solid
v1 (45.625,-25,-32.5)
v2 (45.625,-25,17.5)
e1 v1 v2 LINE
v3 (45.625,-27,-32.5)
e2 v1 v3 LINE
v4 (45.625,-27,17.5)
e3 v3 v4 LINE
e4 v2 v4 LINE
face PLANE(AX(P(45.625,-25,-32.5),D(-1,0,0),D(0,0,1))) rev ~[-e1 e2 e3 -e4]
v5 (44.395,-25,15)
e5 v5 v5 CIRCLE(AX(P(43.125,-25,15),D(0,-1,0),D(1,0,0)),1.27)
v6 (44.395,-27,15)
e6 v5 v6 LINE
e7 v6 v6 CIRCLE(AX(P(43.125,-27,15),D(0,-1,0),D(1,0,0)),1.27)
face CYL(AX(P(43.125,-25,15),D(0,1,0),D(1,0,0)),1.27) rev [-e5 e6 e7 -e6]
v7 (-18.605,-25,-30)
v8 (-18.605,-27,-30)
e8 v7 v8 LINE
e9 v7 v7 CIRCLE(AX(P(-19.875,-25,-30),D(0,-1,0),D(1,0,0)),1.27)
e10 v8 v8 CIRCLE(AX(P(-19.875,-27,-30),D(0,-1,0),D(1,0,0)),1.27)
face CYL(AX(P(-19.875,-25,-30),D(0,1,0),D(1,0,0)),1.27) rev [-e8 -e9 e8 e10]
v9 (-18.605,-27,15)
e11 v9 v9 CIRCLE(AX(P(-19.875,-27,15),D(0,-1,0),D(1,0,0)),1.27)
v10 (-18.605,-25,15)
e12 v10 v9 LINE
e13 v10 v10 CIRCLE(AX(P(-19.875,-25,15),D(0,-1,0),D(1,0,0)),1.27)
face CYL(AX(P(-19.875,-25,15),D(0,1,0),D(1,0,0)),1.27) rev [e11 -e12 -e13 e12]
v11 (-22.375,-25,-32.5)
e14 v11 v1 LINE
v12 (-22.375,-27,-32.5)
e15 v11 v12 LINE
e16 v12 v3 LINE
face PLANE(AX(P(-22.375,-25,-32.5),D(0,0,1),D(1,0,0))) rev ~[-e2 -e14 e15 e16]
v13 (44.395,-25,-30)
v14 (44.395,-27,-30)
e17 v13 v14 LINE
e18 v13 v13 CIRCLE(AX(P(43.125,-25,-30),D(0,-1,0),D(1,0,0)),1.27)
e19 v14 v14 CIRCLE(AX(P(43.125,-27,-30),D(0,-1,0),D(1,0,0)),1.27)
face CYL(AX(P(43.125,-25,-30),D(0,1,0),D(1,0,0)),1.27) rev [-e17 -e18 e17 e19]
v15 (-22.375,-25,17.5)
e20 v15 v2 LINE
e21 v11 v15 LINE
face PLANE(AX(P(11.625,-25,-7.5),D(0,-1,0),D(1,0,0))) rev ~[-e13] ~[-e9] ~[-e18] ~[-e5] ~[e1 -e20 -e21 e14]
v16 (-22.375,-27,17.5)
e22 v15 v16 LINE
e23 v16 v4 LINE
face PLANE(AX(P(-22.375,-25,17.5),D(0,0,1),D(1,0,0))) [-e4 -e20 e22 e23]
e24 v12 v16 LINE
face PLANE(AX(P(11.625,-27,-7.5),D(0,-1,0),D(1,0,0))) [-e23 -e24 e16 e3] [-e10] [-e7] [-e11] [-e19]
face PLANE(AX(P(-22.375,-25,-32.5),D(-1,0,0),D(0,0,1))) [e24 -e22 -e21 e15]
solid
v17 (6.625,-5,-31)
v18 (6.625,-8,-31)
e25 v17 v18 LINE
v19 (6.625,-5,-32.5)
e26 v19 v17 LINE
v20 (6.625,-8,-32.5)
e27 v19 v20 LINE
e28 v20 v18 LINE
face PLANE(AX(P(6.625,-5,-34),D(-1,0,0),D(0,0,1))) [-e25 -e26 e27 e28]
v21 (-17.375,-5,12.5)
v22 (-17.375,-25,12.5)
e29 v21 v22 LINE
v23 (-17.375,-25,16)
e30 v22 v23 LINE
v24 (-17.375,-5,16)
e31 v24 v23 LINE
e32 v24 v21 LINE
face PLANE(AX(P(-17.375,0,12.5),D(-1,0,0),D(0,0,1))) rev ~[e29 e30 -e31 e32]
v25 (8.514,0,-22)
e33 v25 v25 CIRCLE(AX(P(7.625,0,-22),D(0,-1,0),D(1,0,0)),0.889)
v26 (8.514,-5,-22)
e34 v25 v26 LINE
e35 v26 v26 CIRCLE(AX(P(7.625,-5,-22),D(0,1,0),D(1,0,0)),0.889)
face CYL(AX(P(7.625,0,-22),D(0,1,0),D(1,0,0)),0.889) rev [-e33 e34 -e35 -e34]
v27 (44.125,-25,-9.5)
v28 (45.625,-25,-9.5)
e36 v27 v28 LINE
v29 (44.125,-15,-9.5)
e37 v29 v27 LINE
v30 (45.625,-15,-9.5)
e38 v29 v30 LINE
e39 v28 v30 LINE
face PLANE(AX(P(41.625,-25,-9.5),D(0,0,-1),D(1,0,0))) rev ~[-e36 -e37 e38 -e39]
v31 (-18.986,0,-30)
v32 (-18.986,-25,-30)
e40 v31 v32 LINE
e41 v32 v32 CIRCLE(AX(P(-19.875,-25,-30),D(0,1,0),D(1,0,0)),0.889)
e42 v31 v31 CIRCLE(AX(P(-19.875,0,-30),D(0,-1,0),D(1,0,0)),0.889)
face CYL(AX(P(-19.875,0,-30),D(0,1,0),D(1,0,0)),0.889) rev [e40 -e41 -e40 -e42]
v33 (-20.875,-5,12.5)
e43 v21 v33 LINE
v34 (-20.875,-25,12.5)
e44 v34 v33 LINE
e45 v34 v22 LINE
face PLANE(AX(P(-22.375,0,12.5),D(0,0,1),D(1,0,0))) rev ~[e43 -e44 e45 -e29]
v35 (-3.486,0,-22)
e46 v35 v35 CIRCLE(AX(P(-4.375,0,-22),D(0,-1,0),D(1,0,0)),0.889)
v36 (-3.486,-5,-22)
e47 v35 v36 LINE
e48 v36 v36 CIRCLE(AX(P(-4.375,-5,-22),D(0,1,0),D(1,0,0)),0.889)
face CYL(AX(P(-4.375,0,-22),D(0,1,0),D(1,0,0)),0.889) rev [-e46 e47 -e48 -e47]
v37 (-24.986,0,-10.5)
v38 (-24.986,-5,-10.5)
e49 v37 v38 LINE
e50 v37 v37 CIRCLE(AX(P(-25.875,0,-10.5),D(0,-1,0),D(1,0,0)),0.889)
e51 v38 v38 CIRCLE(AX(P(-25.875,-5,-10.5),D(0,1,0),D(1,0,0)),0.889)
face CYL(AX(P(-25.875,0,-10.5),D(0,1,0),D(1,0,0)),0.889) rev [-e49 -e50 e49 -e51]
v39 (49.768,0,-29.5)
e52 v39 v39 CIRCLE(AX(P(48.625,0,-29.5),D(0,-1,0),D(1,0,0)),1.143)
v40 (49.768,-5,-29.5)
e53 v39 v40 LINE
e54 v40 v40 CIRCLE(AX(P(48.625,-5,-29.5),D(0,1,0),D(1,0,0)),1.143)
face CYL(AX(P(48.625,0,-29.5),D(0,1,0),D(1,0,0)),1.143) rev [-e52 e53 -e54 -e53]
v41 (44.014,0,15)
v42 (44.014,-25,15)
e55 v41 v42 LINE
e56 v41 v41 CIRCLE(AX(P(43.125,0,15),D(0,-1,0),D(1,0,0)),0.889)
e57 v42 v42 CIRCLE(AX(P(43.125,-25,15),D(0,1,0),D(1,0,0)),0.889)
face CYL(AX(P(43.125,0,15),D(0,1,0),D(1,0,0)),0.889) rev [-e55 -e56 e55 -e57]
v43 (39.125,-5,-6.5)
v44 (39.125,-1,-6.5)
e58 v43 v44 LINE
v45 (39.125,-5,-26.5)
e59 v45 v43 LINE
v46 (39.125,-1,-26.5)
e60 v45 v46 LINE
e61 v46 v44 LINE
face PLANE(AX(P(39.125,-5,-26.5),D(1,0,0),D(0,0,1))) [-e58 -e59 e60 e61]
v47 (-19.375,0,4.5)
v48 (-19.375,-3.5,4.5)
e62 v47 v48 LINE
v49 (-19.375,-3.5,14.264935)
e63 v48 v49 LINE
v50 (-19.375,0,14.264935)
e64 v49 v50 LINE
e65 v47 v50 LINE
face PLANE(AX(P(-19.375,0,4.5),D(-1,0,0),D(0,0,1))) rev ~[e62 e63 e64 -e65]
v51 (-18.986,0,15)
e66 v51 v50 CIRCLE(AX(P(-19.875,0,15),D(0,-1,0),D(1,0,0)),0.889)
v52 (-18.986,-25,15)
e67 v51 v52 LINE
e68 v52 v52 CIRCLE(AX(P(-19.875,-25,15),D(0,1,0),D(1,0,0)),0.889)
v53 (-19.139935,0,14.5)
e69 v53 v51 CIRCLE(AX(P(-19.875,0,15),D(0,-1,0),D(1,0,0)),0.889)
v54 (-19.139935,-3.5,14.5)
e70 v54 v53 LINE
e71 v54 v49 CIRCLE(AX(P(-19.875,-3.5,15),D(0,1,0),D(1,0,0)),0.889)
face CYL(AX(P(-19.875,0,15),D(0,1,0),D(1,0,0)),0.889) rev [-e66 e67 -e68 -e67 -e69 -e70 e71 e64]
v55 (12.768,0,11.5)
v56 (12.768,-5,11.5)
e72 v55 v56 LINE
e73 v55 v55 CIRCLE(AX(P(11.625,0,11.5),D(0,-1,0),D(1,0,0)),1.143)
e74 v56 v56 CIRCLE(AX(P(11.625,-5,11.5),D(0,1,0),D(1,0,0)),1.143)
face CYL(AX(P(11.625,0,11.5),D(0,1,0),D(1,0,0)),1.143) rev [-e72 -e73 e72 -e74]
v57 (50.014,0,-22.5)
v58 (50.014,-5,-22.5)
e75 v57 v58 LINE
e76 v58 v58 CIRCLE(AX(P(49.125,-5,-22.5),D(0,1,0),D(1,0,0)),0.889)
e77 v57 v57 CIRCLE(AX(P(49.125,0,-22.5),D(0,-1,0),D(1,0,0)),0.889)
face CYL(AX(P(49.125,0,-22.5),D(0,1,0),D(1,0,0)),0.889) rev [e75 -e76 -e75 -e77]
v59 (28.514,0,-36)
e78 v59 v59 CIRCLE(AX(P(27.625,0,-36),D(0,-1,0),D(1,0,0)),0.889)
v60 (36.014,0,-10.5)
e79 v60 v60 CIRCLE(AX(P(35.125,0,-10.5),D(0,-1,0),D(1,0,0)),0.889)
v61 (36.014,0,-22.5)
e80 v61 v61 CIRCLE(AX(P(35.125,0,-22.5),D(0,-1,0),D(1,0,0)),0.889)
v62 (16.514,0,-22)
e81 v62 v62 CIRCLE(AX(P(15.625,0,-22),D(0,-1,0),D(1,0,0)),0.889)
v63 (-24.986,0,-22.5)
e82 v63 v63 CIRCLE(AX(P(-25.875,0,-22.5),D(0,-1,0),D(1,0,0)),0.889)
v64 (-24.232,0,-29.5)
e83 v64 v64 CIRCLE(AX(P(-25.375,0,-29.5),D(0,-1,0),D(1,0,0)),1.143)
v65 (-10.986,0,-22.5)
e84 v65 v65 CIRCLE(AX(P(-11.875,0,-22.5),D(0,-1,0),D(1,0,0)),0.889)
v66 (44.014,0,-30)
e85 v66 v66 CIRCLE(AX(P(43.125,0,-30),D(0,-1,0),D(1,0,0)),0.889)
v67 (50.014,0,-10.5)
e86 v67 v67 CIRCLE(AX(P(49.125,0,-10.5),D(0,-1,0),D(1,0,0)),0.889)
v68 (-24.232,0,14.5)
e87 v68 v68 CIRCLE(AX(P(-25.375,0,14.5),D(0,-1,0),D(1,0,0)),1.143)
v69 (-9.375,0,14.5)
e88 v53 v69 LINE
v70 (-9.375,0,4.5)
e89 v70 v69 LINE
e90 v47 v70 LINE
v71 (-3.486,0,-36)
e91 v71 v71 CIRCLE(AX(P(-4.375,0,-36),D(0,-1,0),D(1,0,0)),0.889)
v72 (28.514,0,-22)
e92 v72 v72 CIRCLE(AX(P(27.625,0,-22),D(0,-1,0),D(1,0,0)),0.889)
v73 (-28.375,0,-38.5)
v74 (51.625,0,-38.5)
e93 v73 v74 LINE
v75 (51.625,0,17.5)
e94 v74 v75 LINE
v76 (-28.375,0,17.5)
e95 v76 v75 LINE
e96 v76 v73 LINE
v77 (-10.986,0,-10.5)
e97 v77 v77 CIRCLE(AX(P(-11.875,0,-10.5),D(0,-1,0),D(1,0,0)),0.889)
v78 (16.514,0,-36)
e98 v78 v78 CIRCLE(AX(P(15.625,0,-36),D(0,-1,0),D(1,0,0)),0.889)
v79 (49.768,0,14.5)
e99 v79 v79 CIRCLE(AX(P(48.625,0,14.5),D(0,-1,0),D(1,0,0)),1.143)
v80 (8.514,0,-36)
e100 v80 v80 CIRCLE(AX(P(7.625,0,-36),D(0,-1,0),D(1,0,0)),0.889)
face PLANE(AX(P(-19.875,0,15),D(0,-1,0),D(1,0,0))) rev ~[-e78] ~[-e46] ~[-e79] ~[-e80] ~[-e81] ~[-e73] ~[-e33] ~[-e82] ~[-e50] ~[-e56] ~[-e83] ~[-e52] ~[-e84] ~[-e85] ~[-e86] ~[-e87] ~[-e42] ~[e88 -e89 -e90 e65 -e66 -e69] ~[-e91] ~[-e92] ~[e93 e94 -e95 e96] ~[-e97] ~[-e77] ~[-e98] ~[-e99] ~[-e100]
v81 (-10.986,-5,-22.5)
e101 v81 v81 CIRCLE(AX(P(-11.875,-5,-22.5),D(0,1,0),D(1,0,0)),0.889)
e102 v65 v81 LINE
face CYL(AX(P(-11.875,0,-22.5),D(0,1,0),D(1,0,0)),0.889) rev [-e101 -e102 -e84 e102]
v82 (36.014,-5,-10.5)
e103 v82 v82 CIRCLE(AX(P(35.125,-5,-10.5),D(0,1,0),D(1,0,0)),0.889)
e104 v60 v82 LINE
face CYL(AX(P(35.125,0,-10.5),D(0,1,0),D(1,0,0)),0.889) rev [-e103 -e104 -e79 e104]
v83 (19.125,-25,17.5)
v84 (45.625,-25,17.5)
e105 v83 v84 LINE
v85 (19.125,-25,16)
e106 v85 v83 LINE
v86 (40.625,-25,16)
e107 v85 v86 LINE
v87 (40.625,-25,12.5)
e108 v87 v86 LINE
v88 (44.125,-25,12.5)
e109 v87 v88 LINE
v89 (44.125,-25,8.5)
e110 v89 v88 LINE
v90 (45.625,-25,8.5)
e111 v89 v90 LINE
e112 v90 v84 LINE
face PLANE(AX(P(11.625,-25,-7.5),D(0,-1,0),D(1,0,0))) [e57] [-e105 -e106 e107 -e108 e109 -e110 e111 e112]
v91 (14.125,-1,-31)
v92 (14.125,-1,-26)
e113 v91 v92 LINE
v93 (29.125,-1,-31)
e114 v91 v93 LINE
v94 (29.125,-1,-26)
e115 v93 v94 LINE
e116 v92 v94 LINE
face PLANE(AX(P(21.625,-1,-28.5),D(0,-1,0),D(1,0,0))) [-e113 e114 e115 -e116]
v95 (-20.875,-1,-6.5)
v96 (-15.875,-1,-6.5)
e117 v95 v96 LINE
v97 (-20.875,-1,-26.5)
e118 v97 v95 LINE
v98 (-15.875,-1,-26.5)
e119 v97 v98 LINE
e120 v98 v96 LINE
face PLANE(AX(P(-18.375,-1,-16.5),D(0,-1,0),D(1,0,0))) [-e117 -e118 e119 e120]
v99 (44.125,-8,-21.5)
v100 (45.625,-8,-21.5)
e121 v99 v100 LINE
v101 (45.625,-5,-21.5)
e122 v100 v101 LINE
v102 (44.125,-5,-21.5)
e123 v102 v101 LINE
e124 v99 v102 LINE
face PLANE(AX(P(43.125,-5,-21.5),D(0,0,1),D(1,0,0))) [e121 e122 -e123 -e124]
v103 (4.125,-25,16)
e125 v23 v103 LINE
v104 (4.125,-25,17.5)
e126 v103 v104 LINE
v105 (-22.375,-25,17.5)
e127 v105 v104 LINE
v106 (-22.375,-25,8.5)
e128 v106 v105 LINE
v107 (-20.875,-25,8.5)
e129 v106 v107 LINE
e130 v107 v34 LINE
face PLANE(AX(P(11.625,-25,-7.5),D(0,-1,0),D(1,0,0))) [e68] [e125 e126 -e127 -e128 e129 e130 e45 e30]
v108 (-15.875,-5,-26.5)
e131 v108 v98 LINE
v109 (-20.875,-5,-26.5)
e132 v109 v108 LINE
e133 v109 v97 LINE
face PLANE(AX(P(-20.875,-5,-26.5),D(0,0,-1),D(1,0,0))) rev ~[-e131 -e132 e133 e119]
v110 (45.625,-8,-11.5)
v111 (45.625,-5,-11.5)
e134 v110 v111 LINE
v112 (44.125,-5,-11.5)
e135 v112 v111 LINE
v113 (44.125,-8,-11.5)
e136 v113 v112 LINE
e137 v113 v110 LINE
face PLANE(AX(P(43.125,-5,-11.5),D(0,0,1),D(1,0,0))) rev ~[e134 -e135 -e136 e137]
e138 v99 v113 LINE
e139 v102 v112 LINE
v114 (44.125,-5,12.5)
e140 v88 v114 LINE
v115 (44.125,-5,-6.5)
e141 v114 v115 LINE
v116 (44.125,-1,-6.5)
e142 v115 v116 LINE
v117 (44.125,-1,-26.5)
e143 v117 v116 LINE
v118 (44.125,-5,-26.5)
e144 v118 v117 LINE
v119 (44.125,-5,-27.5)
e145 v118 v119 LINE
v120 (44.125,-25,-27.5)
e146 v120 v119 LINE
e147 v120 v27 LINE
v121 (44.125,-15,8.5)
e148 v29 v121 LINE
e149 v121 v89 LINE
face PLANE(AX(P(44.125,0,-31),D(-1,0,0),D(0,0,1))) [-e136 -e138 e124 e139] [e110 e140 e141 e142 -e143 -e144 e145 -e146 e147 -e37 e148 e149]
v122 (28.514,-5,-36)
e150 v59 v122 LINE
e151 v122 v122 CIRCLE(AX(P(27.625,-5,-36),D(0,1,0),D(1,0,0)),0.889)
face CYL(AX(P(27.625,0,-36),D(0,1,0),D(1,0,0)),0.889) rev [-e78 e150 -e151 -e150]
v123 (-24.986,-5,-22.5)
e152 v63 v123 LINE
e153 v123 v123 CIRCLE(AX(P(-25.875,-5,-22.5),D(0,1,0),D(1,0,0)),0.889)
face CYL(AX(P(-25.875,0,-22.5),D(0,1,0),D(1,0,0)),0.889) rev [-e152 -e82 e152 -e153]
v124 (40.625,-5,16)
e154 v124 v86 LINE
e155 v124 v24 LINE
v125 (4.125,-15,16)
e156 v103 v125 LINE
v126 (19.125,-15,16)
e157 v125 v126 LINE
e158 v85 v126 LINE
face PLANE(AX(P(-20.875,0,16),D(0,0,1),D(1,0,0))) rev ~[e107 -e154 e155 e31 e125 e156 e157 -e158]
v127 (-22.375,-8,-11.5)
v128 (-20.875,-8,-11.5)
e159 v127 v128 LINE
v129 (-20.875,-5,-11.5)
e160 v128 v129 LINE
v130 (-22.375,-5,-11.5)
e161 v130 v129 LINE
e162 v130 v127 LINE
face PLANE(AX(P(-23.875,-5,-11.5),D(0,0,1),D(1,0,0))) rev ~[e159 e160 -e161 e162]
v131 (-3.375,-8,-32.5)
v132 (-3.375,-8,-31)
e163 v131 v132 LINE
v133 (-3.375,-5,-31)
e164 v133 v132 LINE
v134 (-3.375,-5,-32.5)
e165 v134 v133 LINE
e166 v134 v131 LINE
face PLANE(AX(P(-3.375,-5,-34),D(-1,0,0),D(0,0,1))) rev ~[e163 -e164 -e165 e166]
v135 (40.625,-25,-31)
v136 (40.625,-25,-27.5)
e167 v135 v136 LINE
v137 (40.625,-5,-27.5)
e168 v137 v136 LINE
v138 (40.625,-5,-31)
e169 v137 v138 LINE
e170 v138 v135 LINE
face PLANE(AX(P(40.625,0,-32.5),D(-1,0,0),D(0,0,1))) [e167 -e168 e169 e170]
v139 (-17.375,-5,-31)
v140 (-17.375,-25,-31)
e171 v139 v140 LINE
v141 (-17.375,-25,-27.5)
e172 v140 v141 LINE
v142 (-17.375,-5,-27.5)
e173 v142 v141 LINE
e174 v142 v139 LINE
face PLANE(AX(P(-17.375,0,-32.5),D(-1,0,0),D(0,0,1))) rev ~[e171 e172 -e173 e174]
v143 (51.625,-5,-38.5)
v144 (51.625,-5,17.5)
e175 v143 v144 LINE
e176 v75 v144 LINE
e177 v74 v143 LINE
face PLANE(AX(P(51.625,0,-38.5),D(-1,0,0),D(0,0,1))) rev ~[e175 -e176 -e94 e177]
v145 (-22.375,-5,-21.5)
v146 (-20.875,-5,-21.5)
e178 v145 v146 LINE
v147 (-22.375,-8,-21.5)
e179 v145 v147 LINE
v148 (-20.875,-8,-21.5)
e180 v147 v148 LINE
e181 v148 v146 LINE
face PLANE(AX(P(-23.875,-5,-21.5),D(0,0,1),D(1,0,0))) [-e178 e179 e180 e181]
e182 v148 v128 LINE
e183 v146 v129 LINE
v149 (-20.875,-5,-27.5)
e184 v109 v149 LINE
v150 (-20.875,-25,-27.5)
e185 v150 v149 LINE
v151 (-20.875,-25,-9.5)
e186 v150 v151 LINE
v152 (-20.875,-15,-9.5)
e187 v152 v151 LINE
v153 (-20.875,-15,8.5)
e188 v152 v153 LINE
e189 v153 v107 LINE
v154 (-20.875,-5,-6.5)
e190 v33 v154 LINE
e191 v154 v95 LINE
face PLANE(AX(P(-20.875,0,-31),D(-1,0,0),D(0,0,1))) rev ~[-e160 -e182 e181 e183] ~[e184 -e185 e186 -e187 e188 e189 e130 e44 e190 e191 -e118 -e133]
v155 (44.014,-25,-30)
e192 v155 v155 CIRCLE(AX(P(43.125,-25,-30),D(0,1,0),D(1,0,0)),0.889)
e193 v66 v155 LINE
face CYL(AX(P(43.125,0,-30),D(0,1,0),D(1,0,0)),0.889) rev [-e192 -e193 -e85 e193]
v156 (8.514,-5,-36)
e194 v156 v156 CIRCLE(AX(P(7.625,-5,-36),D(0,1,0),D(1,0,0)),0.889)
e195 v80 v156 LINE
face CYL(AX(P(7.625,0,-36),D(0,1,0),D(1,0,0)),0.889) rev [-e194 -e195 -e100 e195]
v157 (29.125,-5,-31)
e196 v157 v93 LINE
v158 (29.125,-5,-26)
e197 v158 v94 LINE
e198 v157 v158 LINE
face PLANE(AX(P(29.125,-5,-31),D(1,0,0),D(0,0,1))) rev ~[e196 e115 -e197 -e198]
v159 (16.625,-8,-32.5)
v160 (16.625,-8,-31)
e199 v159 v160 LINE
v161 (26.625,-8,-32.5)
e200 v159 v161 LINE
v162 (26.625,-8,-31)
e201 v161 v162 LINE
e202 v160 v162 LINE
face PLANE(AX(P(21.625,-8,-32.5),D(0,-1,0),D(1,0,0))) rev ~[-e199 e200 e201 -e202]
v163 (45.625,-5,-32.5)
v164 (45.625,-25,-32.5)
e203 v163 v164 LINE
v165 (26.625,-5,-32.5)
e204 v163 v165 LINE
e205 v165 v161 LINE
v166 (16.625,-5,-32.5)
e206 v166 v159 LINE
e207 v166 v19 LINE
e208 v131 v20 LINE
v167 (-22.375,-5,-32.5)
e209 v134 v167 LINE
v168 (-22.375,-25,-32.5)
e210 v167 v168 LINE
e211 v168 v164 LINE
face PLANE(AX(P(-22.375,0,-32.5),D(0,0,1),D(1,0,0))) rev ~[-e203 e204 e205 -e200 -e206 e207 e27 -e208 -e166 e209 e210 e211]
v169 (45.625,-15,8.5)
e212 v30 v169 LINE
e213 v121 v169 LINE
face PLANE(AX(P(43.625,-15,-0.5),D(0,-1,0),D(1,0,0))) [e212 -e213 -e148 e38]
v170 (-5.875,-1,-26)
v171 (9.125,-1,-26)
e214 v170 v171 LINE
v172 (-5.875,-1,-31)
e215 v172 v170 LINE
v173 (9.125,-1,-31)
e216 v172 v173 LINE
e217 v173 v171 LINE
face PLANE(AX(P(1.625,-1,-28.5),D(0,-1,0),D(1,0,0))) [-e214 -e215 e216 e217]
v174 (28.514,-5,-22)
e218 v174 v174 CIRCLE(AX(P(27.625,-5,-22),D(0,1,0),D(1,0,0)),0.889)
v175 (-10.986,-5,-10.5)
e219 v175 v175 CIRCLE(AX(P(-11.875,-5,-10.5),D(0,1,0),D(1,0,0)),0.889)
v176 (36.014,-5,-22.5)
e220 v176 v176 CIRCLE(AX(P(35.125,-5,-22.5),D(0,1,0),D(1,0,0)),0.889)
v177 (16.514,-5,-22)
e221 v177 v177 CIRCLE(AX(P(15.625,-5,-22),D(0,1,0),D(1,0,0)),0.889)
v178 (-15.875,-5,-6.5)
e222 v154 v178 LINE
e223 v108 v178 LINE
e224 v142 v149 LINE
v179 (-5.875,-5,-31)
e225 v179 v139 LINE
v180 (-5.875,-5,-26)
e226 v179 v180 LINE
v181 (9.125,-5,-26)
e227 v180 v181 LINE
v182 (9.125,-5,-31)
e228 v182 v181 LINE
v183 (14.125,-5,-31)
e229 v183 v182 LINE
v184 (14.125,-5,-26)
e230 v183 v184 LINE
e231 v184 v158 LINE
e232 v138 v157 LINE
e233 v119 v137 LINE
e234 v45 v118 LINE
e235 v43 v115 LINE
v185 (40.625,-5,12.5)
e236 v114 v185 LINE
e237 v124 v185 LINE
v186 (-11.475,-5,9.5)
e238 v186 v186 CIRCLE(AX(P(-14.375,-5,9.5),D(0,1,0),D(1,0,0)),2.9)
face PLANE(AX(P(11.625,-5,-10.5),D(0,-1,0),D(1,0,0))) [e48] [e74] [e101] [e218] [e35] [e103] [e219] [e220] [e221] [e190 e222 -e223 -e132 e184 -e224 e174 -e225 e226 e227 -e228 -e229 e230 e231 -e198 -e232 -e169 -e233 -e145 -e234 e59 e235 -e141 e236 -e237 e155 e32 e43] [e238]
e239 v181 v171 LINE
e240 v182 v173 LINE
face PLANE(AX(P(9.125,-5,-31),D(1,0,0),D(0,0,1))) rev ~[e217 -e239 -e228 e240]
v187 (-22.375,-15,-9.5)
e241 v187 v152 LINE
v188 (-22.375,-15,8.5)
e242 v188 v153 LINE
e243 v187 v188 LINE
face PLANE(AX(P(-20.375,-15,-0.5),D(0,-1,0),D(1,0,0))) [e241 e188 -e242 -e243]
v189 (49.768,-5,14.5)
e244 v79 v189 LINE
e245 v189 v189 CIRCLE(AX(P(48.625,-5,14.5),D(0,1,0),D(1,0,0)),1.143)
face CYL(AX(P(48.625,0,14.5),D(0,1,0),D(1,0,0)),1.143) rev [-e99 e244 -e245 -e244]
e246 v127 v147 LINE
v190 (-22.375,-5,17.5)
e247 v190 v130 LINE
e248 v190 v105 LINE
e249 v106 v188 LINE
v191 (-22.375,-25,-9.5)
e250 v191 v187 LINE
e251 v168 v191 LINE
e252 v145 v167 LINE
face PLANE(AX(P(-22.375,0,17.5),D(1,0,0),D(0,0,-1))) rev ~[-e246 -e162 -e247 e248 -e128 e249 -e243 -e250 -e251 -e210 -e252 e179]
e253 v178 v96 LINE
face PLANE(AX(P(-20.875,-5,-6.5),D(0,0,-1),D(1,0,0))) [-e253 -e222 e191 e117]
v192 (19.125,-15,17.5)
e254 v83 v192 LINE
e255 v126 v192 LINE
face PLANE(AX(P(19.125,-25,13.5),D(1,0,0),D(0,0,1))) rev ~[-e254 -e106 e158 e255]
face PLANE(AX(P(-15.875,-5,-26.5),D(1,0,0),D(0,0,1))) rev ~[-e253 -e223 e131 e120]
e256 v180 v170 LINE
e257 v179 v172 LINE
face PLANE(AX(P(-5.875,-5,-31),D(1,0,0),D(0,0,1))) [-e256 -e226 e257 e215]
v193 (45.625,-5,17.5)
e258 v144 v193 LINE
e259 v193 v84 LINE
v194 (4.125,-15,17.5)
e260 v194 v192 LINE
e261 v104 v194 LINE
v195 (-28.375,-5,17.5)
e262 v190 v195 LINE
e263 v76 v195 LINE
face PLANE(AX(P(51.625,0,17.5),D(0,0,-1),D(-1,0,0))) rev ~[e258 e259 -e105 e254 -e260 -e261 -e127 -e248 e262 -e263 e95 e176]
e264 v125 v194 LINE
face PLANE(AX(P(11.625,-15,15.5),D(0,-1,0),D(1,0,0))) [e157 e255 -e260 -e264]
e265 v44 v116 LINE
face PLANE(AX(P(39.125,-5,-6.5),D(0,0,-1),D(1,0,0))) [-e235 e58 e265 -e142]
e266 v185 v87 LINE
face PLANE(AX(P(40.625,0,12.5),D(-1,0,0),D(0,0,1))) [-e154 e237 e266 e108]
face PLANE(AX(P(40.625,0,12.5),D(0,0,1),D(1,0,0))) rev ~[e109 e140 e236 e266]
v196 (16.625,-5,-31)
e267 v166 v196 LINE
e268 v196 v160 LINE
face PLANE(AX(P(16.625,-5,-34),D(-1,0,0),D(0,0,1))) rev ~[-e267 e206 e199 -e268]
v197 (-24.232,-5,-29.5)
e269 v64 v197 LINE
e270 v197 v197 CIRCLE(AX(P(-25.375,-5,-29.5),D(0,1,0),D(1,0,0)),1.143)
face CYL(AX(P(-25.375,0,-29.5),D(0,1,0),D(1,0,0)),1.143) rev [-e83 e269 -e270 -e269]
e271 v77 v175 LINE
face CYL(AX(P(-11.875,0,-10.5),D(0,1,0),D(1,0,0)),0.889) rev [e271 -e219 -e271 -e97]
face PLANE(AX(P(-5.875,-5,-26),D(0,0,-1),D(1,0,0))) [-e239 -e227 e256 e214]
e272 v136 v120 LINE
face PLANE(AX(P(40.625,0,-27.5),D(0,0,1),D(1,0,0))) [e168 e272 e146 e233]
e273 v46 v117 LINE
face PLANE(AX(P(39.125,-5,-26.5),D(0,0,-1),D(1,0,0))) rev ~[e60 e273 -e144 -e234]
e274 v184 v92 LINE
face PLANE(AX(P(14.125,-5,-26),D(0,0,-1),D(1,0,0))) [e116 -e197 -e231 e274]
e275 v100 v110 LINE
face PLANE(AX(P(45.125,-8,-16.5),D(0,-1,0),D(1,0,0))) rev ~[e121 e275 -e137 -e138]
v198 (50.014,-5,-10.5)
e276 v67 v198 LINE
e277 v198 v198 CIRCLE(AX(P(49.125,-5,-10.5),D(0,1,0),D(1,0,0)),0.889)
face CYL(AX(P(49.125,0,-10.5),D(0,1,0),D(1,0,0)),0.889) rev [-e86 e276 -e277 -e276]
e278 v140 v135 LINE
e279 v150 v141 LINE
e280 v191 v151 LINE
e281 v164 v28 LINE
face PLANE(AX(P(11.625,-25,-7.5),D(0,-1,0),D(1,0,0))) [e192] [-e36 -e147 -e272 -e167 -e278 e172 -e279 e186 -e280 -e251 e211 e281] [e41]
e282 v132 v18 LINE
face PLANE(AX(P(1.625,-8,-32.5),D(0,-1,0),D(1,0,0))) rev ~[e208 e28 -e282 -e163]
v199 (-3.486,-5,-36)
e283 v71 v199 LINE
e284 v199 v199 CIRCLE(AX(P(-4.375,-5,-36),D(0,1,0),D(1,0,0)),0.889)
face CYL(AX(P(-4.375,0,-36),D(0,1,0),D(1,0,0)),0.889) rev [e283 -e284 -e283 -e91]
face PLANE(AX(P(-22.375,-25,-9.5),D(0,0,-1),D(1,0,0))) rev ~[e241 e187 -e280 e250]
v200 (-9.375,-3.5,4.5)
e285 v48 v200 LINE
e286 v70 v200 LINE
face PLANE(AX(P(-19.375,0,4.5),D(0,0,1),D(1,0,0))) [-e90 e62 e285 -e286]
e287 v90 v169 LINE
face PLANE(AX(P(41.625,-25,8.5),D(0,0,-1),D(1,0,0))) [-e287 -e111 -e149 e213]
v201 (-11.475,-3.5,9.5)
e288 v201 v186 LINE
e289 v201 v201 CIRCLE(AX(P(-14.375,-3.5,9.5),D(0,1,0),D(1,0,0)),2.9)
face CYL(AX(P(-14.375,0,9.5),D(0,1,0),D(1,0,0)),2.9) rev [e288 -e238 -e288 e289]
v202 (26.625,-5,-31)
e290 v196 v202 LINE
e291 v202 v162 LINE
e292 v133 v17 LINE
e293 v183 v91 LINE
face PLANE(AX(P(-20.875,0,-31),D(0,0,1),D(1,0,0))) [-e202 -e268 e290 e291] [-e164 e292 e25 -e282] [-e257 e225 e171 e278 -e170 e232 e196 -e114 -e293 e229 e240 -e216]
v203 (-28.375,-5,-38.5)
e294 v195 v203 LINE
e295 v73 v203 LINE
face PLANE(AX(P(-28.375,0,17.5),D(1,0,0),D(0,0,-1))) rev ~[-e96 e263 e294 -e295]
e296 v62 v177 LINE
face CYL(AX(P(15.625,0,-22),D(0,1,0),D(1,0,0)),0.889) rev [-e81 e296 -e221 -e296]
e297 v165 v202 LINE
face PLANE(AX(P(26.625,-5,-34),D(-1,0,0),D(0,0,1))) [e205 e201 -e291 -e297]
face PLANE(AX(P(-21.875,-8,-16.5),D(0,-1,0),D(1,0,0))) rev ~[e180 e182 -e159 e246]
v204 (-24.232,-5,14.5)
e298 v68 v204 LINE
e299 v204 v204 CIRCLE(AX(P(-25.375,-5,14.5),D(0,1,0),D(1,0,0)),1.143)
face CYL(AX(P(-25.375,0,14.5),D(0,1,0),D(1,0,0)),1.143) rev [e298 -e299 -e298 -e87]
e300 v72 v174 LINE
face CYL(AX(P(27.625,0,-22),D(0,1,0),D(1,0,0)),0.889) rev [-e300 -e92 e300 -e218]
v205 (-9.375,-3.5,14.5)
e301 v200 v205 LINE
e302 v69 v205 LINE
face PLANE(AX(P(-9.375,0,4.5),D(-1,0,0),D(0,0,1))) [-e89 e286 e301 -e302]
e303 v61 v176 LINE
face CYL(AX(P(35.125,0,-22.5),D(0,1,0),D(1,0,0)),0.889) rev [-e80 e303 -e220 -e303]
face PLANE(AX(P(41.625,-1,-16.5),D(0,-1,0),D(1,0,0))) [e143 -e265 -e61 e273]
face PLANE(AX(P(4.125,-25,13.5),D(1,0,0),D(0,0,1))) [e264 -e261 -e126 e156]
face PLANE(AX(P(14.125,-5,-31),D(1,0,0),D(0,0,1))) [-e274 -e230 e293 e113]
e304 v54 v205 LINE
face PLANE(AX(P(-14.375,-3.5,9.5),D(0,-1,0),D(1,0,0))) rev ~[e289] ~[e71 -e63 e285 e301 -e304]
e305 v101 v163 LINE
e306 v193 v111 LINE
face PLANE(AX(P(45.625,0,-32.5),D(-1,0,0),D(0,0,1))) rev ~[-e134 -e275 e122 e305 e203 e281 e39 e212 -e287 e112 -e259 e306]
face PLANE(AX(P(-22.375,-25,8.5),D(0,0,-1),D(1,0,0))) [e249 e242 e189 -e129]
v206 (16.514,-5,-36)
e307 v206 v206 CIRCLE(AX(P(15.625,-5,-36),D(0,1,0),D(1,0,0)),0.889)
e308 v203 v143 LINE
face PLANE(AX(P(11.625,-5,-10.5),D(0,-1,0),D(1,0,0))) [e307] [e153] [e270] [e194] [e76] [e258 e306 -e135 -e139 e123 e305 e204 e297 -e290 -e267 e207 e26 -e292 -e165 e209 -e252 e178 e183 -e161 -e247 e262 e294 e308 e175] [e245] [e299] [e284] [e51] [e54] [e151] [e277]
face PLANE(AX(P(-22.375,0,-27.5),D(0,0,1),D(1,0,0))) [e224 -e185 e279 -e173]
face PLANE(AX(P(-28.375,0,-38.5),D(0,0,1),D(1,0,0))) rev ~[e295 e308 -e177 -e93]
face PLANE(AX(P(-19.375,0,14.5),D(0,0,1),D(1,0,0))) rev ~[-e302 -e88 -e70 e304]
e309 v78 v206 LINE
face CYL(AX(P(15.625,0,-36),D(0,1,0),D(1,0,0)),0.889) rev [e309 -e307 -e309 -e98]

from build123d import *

# Parameters (mm, degrees)
F4_DEPTH  = 5
F5_W      = 65
F5_H      = 47
F7_DEPTH  = 25
F8_W      = 5
F8_H      = 20
F8_W_2    = 15
F8_H_2    = 5
F9_DEPTH  = 4
F6_W      = 5
F6_H      = 5
F10_DEPTH = 25
F11_W     = 4
F11_H     = 10
F11_W_2   = 10
F11_H_2   = 3
F12_DEPTH = 3
F13_W     = 15
F13_H     = 4
F13_W_2   = 4
F13_H_2   = 8
F13_H_3   = 18
F14_DEPTH = 10
F3_R      = 0.889
F3_R_2    = 1.143
F3_R_3    = 2.9
F15_DEPTH = 25.001
F16_W     = 10
F16_H     = 10
F17_DEPTH = 3.5
F18_W     = 68
F18_H     = 50
F18_R     = 1.27
F19_DEPTH = 2


with BuildPart() as f4:
    # F1 (on Front) → F4 (new body)
    with BuildSketch(Plane.XZ):
        Polygon((51.625, -32.5), (51.625, 17.5), (-28.375, 17.5), (-28.375, -32.5), (-28.375, -38.5), (51.625, -38.5), align=None)
    extrude(amount=F4_DEPTH)

    # F5 (on Front) → F7 (join)
    with BuildSketch(Plane.XZ):
        Polygon((45.625, 17.5), (-22.375, 17.5), (-22.375, -32.5), (45.625, -32.5), (45.625, -26.5), align=None)
        with Locations((11.625, -7.5)):
            Rectangle(F5_W, F5_H, mode=Mode.SUBTRACT)
    extrude(amount=F7_DEPTH)

    # F8 (on face) → F9 (cut)
    with BuildSketch(Plane.XZ.offset(5)):
        with Locations((-18.375, -16.5)):
            Rectangle(F8_W, F8_H)
        with Locations((1.625, -28.5)):
            Rectangle(F8_W_2, F8_H_2)
        with Locations((21.625, -28.5)):
            Rectangle(F8_W_2, F8_H_2)
        with Locations((41.625, -16.5)):
            Rectangle(F8_W, F8_H)
    extrude(amount=-F9_DEPTH, mode=Mode.SUBTRACT)

    # F6 (on Front) → F10 (join)
    with BuildSketch(Plane.XZ):
        with Locations((-19.875, 15)):
            Rectangle(F6_W, F6_H)
        with Locations((43.125, 15)):
            Rectangle(F6_W, F6_H)
        with Locations((-19.875, -30)):
            Rectangle(F6_W, F6_H)
        with Locations((43.125, -30)):
            Rectangle(F6_W, F6_H)
    extrude(amount=F10_DEPTH)

    # F11 (on face) → F12 (cut)
    with BuildSketch(Plane.XZ.offset(5)):
        with Locations((-21.875, -16.5)):
            Rectangle(F11_W, F11_H)
        with Locations((45.125, -16.5)):
            Rectangle(F11_W, F11_H)
        with Locations((21.625, -32.5)):
            Rectangle(F11_W_2, F11_H_2)
        with Locations((1.625, -32.5)):
            Rectangle(F11_W_2, F11_H_2)
    extrude(amount=F12_DEPTH, mode=Mode.SUBTRACT)

    # F13 (on face) → F14 (cut)
    with BuildSketch(Plane.XZ.offset(25)):
        with Locations((11.625, 15.5)):
            Rectangle(F13_W, F13_H)
        with Locations((-20.375, 27.5)):
            Rectangle(F13_W_2, F13_H_2)
        with Locations((-20.375, -0.5)):
            Rectangle(F13_W_2, F13_H_3)
        with Locations((43.625, 27.5)):
            Rectangle(F13_W_2, F13_H_2)
        with Locations((43.625, -0.5)):
            Rectangle(F13_W_2, F13_H_3)
    extrude(amount=-F14_DEPTH, mode=Mode.SUBTRACT)

    # F3 (on Front) → F15 (cut, through all)
    with BuildSketch(Plane.XZ):
        with Locations((-11.875, -10.5)):
            Circle(F3_R)
        with Locations((-25.875, -10.5)):
            Circle(F3_R)
        with Locations((-25.875, -22.5)):
            Circle(F3_R)
        with Locations((-11.875, -22.5)):
            Circle(F3_R)
        with Locations((-25.375, -29.5)):
            Circle(F3_R_2)
        with Locations((-25.375, 14.5)):
            Circle(F3_R_2)
        with Locations((48.625, 14.5)):
            Circle(F3_R_2)
        with Locations((35.125, -10.5)):
            Circle(F3_R)
        with Locations((35.125, -22.5)):
            Circle(F3_R)
        with Locations((49.125, -10.5)):
            Circle(F3_R)
        with Locations((49.125, -22.5)):
            Circle(F3_R)
        with Locations((48.625, -29.5)):
            Circle(F3_R_2)
        with Locations((-19.875, 15)):
            Circle(F3_R)
        with Locations((43.125, 15)):
            Circle(F3_R)
        with Locations((-19.875, -30)):
            Circle(F3_R)
        with Locations((-4.375, -22)):
            Circle(F3_R)
        with Locations((7.625, -22)):
            Circle(F3_R)
        with Locations((-4.375, -36)):
            Circle(F3_R)
        with Locations((7.625, -36)):
            Circle(F3_R)
        with Locations((15.625, -22)):
            Circle(F3_R)
        with Locations((27.625, -22)):
            Circle(F3_R)
        with Locations((27.625, -36)):
            Circle(F3_R)
        with Locations((15.625, -36)):
            Circle(F3_R)
        with Locations((43.125, -30)):
            Circle(F3_R)
        with Locations((-14.375, 9.5)):
            Circle(F3_R_3)
        with Locations((11.625, 11.5)):
            Circle(F3_R_2)
    extrude(amount=F15_DEPTH, mode=Mode.SUBTRACT)

    # F16 (on Front) → F17 (cut)
    with BuildSketch(Plane.XZ):
        with Locations((-14.375, 9.5)):
            Rectangle(F16_W, F16_H)
    extrude(amount=F17_DEPTH, mode=Mode.SUBTRACT)


with BuildPart() as f19:
    # F18 (on face) → F19 (new body)
    with BuildSketch(Plane.XZ.offset(25)):
        with Locations((11.625, -7.5)):
            Rectangle(F18_W, F18_H)
        with Locations((-19.875, -30)):
            Circle(F18_R, mode=Mode.SUBTRACT)
        with Locations((43.125, -30)):
            Circle(F18_R, mode=Mode.SUBTRACT)
        with Locations((-19.875, 15)):
            Circle(F18_R, mode=Mode.SUBTRACT)
        with Locations((43.125, 15)):
            Circle(F18_R, mode=Mode.SUBTRACT)
    extrude(amount=F19_DEPTH)


solid = Compound([f4.part, f19.part])
